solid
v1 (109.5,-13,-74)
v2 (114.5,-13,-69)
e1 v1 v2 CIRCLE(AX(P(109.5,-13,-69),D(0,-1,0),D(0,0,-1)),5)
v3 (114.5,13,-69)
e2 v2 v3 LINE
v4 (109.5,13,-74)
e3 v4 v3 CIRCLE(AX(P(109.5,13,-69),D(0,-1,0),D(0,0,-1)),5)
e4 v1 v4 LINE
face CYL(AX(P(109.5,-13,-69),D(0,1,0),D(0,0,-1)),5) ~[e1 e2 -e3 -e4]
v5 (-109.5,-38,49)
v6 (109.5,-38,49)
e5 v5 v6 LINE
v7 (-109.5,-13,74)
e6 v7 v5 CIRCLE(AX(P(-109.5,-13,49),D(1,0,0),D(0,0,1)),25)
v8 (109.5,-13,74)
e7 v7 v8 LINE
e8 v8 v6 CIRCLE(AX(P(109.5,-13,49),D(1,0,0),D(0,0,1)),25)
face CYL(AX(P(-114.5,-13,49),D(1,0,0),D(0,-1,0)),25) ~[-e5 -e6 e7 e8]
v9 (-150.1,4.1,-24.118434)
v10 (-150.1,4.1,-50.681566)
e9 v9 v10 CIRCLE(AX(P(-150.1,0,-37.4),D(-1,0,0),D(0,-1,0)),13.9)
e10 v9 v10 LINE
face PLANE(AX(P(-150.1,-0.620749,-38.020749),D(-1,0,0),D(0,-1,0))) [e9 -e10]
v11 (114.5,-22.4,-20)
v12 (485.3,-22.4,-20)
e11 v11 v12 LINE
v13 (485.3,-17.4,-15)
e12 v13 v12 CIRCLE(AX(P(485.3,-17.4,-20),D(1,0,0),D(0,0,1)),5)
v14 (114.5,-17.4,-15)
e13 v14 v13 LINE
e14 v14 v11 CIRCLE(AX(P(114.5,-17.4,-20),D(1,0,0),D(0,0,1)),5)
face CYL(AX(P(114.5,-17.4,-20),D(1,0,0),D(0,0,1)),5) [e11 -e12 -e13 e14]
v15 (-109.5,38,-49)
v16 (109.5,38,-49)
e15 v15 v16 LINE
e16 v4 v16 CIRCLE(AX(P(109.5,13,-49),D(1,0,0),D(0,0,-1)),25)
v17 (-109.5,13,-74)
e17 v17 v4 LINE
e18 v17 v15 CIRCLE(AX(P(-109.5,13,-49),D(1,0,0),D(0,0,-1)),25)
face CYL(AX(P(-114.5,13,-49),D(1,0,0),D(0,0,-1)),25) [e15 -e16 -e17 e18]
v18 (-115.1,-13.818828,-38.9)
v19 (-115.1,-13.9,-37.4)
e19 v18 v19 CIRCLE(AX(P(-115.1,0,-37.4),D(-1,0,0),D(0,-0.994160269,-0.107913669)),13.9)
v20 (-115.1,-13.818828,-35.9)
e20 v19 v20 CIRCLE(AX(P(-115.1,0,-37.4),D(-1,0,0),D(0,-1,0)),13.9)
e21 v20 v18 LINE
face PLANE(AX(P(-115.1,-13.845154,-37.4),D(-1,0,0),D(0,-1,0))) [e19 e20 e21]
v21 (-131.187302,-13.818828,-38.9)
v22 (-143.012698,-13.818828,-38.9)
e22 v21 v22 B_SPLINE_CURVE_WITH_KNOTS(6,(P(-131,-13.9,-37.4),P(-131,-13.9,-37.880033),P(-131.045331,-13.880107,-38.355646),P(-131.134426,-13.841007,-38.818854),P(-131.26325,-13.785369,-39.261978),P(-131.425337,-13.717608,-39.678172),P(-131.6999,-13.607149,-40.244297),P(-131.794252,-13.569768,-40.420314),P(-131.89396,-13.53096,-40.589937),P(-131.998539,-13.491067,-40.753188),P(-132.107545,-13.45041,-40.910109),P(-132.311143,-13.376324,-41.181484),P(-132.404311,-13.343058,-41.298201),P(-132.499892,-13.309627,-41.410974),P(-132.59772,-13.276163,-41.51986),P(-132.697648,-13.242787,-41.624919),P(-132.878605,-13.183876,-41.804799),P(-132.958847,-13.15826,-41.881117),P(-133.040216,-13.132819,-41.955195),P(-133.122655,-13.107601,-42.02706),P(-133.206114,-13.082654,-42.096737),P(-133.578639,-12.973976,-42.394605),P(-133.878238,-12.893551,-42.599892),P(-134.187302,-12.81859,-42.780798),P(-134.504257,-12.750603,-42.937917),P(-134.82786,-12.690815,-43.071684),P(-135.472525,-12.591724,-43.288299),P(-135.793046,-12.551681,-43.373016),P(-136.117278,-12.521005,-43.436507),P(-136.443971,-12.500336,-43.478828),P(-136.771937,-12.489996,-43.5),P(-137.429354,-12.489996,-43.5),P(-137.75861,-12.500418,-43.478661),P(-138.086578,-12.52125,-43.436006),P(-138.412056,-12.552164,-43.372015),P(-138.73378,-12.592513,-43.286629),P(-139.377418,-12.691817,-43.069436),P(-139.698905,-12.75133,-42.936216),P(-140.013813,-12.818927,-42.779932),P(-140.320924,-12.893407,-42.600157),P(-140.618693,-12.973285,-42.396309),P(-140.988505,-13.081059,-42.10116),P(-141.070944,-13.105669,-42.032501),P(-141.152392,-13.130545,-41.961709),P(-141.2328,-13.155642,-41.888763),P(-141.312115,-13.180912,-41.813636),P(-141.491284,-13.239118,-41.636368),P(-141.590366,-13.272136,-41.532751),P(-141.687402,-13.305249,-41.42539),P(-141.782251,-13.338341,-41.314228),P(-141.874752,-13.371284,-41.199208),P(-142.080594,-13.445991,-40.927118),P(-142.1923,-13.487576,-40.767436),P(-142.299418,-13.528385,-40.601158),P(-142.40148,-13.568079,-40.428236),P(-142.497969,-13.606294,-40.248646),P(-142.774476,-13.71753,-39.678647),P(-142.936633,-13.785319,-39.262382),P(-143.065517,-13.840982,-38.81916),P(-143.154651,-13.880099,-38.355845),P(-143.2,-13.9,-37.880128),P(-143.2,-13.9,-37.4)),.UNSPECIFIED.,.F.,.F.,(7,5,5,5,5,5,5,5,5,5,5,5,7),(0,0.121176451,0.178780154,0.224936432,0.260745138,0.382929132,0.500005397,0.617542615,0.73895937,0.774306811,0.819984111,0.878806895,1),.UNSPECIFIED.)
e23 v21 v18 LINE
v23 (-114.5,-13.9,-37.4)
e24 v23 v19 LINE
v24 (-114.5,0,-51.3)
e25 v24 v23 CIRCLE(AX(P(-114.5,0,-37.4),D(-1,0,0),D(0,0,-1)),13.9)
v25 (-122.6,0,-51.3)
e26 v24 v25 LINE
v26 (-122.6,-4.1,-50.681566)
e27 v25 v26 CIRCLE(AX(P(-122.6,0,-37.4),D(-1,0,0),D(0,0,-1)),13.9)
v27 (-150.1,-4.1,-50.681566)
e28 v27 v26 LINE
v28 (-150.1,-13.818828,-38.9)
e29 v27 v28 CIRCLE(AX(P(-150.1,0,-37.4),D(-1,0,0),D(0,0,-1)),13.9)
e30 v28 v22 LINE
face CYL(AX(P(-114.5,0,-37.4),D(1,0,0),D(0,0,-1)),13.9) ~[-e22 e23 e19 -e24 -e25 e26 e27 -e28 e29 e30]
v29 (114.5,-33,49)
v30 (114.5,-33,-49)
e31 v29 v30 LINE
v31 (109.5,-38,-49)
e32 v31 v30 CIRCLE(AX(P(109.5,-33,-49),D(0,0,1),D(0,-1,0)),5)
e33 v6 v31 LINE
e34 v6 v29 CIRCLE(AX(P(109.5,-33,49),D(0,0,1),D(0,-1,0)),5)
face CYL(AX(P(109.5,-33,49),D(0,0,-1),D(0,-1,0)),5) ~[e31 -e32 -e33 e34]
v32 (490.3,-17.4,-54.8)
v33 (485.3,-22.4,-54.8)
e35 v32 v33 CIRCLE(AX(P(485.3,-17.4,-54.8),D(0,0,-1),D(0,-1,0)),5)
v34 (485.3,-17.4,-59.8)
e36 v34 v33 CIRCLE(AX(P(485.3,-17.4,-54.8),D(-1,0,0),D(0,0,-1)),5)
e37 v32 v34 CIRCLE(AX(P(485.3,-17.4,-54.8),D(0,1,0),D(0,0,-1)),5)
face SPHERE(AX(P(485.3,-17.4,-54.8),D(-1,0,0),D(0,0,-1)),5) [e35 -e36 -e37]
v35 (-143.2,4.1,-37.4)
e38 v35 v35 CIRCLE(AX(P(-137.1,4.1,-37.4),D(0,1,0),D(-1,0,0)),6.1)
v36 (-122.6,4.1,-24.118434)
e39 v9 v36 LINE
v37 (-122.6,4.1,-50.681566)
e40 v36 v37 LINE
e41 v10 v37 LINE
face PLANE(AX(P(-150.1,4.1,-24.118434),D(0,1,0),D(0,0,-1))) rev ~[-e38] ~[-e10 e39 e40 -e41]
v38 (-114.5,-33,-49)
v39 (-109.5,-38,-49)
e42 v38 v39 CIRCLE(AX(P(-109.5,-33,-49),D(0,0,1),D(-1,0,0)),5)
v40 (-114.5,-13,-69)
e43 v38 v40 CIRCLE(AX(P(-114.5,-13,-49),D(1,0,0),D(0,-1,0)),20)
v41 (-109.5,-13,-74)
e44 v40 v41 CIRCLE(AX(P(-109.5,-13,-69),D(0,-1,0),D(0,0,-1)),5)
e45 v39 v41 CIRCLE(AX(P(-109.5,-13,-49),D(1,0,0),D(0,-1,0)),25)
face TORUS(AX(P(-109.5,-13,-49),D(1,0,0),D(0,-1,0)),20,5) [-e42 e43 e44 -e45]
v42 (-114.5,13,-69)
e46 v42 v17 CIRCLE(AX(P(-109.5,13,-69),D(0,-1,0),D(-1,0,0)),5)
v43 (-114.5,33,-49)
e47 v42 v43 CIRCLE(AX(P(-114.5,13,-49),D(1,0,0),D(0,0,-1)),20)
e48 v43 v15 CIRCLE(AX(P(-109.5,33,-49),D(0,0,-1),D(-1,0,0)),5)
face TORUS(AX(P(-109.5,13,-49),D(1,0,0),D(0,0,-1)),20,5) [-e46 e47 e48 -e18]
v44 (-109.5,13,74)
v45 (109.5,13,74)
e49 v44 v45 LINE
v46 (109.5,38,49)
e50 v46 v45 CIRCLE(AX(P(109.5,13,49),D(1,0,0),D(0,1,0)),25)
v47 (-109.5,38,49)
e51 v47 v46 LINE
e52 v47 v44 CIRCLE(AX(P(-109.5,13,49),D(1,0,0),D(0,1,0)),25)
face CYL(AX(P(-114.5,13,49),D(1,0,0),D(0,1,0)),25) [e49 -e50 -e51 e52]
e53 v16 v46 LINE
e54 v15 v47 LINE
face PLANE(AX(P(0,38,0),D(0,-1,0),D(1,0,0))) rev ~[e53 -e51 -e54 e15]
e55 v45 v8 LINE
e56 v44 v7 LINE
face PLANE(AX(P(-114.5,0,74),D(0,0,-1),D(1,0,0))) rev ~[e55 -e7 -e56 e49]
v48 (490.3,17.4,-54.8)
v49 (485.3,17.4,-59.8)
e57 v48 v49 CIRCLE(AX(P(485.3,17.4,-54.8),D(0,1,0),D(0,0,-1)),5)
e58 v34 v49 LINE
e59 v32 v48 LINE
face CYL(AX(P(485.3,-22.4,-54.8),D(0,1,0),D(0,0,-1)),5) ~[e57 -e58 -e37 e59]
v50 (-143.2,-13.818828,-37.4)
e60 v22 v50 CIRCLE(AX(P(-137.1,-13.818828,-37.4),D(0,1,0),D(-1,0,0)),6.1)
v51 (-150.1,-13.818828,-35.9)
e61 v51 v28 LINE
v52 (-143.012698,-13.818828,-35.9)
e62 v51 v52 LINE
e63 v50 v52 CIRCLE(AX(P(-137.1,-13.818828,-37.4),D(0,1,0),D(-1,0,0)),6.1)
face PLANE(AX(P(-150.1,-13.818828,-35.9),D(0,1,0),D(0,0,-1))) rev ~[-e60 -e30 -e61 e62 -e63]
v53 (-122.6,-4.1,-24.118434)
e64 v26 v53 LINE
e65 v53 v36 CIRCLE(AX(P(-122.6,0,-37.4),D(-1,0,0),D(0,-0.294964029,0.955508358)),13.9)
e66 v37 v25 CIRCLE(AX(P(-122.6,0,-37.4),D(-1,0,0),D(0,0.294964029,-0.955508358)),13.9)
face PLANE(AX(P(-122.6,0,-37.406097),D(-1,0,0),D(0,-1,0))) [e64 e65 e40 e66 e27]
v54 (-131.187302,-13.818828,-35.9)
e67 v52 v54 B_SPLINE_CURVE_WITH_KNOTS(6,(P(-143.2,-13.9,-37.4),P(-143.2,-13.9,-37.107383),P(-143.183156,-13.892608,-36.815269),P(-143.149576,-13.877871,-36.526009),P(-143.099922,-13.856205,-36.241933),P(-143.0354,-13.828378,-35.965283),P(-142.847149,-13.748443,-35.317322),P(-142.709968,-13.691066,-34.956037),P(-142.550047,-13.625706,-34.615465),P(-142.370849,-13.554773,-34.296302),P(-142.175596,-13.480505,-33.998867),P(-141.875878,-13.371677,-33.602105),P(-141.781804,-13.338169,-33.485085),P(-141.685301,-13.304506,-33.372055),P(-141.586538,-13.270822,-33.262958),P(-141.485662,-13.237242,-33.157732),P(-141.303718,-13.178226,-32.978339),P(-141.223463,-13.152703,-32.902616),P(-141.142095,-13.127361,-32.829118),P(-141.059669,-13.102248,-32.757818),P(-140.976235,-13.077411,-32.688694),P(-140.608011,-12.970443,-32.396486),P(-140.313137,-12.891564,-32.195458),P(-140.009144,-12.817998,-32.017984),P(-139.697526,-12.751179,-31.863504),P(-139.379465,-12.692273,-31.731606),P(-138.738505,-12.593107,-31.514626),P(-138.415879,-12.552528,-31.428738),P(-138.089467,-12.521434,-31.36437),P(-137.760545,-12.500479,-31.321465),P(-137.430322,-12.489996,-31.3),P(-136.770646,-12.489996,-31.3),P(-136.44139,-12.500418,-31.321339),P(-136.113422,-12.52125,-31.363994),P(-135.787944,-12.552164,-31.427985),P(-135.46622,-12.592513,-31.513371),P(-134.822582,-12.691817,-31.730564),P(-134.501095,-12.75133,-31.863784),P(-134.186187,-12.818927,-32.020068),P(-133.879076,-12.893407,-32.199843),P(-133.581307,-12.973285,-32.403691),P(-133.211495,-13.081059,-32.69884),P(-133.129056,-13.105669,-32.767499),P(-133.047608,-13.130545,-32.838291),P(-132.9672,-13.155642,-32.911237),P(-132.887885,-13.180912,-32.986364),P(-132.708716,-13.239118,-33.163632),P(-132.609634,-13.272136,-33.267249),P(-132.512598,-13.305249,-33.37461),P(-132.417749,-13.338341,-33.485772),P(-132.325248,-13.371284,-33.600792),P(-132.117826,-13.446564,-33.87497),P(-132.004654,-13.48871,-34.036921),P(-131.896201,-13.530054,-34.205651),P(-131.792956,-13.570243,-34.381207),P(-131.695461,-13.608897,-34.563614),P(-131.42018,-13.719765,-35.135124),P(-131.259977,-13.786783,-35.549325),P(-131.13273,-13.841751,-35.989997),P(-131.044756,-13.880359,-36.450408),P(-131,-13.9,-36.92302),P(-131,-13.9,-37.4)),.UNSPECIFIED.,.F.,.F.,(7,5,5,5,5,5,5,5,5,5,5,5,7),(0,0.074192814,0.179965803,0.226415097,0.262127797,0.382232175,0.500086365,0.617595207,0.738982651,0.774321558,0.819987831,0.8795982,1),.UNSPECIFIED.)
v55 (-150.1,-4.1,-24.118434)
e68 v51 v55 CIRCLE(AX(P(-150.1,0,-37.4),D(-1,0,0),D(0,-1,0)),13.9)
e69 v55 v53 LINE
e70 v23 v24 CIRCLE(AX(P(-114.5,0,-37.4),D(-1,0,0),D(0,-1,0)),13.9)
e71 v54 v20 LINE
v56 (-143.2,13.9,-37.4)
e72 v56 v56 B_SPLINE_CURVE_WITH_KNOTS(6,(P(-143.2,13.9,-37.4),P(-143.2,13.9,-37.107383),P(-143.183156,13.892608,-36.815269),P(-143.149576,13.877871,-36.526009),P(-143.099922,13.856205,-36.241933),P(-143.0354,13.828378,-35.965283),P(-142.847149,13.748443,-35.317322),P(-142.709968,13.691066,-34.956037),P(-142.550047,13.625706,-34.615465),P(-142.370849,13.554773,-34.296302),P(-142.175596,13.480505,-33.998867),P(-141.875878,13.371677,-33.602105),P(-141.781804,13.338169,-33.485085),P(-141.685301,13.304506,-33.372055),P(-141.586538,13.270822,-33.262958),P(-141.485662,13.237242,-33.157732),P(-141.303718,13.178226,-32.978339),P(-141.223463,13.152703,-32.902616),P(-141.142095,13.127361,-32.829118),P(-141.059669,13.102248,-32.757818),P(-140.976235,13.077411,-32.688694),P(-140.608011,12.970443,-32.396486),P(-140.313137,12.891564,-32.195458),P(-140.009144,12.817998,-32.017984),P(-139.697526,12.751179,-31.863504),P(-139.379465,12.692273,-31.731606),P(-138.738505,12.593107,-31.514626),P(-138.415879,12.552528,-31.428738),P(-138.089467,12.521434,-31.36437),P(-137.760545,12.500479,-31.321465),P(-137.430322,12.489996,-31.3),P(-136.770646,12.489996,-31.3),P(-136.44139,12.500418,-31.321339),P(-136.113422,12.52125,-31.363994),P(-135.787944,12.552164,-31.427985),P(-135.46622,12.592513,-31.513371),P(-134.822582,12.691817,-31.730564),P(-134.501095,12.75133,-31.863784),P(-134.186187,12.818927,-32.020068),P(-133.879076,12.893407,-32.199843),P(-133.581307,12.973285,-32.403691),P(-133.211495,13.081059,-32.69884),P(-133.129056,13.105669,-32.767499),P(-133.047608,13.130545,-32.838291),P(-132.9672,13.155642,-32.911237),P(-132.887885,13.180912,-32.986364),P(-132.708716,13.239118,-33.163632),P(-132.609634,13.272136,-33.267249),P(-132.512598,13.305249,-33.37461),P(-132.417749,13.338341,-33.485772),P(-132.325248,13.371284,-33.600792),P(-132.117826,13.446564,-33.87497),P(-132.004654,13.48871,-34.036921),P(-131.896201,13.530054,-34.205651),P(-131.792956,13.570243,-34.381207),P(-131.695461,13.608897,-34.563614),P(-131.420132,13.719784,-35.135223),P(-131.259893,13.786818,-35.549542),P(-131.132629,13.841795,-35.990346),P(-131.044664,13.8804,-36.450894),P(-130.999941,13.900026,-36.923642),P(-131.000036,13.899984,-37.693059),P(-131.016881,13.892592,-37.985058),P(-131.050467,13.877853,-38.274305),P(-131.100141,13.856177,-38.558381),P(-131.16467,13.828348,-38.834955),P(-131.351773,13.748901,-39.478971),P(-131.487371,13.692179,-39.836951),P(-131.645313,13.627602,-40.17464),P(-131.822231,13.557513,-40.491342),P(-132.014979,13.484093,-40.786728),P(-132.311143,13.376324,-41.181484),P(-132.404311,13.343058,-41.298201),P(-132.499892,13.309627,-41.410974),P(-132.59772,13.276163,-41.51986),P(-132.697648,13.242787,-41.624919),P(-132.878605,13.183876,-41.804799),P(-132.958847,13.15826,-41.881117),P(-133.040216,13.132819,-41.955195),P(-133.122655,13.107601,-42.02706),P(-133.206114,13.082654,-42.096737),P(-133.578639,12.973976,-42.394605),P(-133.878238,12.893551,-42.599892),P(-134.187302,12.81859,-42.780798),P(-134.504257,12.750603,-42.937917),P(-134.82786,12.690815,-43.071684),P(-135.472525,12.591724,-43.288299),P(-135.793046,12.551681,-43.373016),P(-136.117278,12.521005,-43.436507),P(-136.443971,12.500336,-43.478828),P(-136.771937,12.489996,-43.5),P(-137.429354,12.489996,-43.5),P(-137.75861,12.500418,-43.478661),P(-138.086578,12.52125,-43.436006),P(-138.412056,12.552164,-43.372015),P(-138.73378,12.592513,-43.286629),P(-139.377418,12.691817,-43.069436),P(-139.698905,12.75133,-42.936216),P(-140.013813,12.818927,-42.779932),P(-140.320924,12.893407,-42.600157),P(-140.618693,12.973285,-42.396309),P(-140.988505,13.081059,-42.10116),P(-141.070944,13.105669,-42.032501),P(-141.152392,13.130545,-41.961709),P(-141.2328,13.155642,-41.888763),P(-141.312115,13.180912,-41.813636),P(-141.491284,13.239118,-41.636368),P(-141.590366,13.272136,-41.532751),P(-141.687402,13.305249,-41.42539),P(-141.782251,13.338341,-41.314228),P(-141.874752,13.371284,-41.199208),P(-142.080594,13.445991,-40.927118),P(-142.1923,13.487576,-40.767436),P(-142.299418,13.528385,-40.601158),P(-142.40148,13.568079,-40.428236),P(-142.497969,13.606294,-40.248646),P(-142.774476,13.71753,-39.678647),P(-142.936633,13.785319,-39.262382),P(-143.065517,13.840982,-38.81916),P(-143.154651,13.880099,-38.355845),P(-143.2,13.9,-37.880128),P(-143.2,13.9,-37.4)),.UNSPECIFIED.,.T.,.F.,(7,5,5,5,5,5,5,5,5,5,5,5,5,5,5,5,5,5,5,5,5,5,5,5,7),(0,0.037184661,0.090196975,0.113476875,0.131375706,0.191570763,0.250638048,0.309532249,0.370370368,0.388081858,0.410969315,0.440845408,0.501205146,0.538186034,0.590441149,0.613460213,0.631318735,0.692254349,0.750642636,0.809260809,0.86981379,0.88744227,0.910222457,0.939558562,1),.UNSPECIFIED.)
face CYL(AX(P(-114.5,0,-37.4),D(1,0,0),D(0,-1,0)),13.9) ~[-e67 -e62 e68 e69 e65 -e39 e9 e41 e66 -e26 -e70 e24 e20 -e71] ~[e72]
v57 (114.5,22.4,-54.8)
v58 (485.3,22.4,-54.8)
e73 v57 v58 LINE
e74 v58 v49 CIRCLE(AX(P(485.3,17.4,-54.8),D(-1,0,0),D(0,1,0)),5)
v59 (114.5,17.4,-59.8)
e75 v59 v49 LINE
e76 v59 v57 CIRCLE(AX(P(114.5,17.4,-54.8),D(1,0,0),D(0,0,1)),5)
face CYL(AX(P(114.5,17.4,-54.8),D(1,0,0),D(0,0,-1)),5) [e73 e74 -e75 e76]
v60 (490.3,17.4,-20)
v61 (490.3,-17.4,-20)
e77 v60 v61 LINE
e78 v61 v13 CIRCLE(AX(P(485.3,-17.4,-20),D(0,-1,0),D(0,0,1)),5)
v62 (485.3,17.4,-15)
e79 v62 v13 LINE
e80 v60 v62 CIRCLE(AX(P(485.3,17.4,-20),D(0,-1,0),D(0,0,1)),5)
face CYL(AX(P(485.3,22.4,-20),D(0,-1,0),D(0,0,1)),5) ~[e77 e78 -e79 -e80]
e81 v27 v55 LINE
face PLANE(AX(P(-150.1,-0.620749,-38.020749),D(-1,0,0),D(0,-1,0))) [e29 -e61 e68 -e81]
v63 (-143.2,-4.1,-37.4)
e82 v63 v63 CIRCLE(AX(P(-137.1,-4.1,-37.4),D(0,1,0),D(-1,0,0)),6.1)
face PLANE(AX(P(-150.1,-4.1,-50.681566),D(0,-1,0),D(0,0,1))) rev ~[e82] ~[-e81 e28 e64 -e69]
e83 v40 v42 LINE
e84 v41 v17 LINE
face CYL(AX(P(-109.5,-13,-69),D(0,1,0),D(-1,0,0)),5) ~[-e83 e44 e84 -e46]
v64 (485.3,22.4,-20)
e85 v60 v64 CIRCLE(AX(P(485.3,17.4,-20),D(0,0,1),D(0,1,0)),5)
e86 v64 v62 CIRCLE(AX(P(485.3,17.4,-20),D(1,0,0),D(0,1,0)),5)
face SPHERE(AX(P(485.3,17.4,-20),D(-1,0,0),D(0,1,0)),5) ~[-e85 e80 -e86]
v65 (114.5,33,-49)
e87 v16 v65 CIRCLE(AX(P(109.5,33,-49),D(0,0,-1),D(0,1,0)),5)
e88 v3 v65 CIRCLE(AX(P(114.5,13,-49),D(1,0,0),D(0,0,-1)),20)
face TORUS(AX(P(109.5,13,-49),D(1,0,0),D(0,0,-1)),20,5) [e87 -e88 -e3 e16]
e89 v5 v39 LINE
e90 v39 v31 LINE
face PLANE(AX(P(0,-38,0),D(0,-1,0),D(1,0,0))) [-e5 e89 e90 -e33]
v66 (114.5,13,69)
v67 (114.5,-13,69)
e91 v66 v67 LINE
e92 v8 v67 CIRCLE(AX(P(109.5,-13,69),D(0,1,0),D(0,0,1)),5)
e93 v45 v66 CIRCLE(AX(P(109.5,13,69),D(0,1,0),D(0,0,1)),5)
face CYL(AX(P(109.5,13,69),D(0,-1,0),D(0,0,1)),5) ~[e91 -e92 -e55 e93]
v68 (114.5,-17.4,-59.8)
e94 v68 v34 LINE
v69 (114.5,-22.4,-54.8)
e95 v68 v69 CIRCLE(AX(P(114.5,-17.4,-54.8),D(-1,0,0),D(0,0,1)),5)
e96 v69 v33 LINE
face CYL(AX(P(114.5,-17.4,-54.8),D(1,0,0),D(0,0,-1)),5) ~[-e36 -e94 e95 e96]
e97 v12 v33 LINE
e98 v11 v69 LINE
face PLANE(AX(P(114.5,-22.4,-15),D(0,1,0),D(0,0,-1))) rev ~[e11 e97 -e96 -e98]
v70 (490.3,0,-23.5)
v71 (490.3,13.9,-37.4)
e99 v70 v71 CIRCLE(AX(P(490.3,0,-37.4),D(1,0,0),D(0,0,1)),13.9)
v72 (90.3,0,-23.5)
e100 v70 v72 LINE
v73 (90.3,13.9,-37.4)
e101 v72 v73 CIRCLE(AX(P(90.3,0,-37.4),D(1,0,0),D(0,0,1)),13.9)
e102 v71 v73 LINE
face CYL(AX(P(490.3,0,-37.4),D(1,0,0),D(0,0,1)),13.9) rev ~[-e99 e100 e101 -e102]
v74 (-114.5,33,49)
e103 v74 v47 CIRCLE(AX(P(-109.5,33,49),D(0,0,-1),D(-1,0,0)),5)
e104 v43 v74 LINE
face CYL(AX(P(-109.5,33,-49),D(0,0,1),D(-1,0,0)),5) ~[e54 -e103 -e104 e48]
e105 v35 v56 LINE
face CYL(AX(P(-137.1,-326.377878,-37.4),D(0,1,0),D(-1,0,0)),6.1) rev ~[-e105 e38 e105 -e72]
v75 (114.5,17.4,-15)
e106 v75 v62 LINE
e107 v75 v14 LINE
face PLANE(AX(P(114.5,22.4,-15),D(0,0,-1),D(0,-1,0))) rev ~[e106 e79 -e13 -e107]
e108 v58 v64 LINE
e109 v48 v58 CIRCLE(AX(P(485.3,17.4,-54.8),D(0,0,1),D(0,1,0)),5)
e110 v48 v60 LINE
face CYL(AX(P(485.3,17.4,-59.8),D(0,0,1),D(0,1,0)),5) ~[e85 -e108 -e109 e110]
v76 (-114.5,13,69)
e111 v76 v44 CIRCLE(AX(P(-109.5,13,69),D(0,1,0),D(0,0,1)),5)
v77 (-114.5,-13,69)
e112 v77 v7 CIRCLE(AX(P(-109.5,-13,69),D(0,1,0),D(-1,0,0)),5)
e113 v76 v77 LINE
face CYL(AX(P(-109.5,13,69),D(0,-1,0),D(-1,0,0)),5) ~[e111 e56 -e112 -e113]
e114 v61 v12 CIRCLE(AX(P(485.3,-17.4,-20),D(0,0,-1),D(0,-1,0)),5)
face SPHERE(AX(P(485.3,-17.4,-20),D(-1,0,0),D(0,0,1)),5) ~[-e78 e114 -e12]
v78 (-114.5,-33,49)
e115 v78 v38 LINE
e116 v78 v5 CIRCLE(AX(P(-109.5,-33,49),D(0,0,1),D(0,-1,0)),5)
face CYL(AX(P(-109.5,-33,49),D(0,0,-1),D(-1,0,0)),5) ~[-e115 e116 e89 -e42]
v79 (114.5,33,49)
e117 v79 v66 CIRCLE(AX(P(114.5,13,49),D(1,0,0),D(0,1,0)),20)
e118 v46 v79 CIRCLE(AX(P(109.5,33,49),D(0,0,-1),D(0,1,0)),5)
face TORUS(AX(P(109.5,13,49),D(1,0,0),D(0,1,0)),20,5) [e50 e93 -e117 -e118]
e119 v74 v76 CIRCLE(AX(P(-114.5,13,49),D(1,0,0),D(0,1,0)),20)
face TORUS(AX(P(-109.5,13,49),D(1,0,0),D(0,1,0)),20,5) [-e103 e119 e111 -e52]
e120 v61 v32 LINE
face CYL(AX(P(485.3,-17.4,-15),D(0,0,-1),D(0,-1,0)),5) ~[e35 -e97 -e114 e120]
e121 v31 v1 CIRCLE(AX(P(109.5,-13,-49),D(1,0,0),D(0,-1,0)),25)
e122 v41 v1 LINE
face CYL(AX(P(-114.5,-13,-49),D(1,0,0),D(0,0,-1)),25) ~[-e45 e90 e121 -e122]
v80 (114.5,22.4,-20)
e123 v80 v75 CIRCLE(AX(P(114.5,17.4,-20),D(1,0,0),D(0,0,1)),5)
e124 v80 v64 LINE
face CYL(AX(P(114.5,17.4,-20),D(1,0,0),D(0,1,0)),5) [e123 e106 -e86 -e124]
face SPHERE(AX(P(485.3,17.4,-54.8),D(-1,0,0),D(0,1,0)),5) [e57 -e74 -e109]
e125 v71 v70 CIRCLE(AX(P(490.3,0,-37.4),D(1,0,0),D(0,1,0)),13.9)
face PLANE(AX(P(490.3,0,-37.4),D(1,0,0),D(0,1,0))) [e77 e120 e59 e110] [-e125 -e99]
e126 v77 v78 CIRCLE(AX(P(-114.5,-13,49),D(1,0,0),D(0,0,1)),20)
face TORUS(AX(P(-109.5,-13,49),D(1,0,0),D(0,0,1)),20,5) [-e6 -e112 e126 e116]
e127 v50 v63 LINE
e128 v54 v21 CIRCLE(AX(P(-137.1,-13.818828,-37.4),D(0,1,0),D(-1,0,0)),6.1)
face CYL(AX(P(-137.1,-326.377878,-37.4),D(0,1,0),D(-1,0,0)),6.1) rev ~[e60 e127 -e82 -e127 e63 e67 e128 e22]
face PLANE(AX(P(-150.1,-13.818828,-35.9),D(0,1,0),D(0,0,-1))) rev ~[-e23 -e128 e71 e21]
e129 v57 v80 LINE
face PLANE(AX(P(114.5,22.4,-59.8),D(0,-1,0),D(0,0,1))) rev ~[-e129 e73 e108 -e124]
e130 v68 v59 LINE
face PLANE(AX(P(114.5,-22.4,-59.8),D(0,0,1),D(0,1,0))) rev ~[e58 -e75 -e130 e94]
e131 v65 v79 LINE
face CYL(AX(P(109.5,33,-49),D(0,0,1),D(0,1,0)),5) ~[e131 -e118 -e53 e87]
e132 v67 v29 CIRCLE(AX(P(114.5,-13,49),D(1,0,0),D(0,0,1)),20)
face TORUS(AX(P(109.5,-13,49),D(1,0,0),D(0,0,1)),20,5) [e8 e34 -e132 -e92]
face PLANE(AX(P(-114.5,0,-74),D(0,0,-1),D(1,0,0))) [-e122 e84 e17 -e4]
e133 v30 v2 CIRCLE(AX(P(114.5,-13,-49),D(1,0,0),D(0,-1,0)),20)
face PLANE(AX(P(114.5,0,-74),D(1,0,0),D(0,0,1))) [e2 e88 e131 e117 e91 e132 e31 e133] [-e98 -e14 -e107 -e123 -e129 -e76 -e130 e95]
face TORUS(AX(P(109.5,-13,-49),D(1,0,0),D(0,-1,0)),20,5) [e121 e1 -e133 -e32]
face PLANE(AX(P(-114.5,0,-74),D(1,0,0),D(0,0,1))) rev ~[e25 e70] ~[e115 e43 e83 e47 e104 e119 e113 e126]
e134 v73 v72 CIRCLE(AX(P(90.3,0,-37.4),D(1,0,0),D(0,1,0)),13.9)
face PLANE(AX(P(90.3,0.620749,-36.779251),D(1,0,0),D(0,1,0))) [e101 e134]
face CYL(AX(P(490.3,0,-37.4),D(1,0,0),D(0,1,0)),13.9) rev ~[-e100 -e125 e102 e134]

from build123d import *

# Parameters (mm, degrees)
F0_W      = 229
F0_H      = 148
F1_DEPTH  = 38
F3_DEPTH  = 35.6
F5_DEPTH  = 35
F7_D      = 12.2
F9_DEPTH  = 375.8
F11_R     = 25
F12_R     = 5
F13_DEPTH = 400
F15_DEPTH = 27.5


with BuildPart() as f1:
    # F0 (on Front) → F1 (new body, symmetric)
    with BuildSketch(Plane.XZ):
        Rectangle(F0_W, F0_H)
    extrude(amount=F1_DEPTH, both=True)

    # F2 (on face) → F3 (join)
    with BuildSketch(Plane(origin=(-114.5, 0, 0), x_dir=(0, -1, 0), z_dir=(-1, 0, 0))):
        with BuildLine():
            ThreePointArc((13.9, -37.4), (-9.8287842585, -27.5712157415), (0, -51.3))
            ThreePointArc((0, -51.3), (9.8287842585, -47.2287842585), (13.9, -37.4))
        make_face()
    extrude(amount=F3_DEPTH)

    # F4 (on face) → F5 (cut)
    with BuildSketch(Plane(origin=(-150.1, 0, 0), x_dir=(0, -1, 0), z_dir=(-1, 0, 0))):
        with BuildLine():
            ThreePointArc((13.9, -37.4), (13.8796920991, -36.6489026467), (13.8188277361, -35.9))
            Line((13.8188277361, -35.9), (13.8188277361, -38.9))
            ThreePointArc((13.8188277361, -38.9), (13.8796920991, -38.1510973533), (13.9, -37.4))
        make_face()
    extrude(amount=-F5_DEPTH, mode=Mode.SUBTRACT)

    # F7 (through all)
    with Locations(Plane.XZ.offset(13.8188277361)):
        with Locations((-137.1, -37.4)):
            Hole(F7_D / 2)

    # F8 (on face) → F9 (join)
    with BuildSketch(Plane.YZ.offset(114.5)):
        Polygon((-22.4, -59.8), (0, -59.8), (22.4, -59.8), (22.4, -15), (-22.4, -15), align=None)
    extrude(amount=F9_DEPTH)

    # F11
    f11_edges = [f1.edges().sort_by_distance(p)[0] for p in [
        (0, -38, 74),
        (0, 38, 74),
        (0, -38, -74),
        (0, 38, -74),
    ]]
    fillet(f11_edges, radius=F11_R)

    # F12
    f12_edges = [f1.edges().sort_by_distance(p)[0] for p in [
        (302.4, -22.4, -15),
        (302.4, 22.4, -15),
        (302.4, -22.4, -59.8),
        (302.4, 22.4, -59.8),
        (114.5, 38, 0),
        (-114.5, 38, 0),
        (490.3, 22.4, -37.4),
        (490.3, 0, -59.8),
        (490.3, 0, -15),
        (490.3, -22.4, -37.4),
    ]]
    fillet(f12_edges, radius=F12_R)

    # F10 (on face) → F13 (cut)
    with BuildSketch(Plane.YZ.offset(490.3)):
        with BuildLine():
            ThreePointArc((13.9, -37.4), (9.8287842585, -27.5712157415), (0, -23.5))
            ThreePointArc((0, -23.5), (-9.8287842585, -47.2287842585), (13.9, -37.4))
        make_face()
    extrude(amount=-F13_DEPTH, mode=Mode.SUBTRACT)

    # F14 (on face) → F15 (cut)
    with BuildSketch(Plane(origin=(-150.1, 0, 0), x_dir=(0, -1, 0), z_dir=(-1, 0, 0))):
        with BuildLine():
            ThreePointArc((4.1, -24.1184338273), (0, -23.5), (-4.1, -24.1184338273))
            Line((-4.1, -24.1184338273), (-4.1, -50.6815661727))
            ThreePointArc((-4.1, -50.6815661727), (-2.0731895957, -51.1445219961), (0, -51.3))
            ThreePointArc((0, -51.3), (2.0731895957, -51.1445219961), (4.1, -50.6815661727))
            Line((4.1, -50.6815661727), (4.1, -24.1184338273))
        make_face()
    extrude(amount=-F15_DEPTH, mode=Mode.SUBTRACT)


solid = f1.part
